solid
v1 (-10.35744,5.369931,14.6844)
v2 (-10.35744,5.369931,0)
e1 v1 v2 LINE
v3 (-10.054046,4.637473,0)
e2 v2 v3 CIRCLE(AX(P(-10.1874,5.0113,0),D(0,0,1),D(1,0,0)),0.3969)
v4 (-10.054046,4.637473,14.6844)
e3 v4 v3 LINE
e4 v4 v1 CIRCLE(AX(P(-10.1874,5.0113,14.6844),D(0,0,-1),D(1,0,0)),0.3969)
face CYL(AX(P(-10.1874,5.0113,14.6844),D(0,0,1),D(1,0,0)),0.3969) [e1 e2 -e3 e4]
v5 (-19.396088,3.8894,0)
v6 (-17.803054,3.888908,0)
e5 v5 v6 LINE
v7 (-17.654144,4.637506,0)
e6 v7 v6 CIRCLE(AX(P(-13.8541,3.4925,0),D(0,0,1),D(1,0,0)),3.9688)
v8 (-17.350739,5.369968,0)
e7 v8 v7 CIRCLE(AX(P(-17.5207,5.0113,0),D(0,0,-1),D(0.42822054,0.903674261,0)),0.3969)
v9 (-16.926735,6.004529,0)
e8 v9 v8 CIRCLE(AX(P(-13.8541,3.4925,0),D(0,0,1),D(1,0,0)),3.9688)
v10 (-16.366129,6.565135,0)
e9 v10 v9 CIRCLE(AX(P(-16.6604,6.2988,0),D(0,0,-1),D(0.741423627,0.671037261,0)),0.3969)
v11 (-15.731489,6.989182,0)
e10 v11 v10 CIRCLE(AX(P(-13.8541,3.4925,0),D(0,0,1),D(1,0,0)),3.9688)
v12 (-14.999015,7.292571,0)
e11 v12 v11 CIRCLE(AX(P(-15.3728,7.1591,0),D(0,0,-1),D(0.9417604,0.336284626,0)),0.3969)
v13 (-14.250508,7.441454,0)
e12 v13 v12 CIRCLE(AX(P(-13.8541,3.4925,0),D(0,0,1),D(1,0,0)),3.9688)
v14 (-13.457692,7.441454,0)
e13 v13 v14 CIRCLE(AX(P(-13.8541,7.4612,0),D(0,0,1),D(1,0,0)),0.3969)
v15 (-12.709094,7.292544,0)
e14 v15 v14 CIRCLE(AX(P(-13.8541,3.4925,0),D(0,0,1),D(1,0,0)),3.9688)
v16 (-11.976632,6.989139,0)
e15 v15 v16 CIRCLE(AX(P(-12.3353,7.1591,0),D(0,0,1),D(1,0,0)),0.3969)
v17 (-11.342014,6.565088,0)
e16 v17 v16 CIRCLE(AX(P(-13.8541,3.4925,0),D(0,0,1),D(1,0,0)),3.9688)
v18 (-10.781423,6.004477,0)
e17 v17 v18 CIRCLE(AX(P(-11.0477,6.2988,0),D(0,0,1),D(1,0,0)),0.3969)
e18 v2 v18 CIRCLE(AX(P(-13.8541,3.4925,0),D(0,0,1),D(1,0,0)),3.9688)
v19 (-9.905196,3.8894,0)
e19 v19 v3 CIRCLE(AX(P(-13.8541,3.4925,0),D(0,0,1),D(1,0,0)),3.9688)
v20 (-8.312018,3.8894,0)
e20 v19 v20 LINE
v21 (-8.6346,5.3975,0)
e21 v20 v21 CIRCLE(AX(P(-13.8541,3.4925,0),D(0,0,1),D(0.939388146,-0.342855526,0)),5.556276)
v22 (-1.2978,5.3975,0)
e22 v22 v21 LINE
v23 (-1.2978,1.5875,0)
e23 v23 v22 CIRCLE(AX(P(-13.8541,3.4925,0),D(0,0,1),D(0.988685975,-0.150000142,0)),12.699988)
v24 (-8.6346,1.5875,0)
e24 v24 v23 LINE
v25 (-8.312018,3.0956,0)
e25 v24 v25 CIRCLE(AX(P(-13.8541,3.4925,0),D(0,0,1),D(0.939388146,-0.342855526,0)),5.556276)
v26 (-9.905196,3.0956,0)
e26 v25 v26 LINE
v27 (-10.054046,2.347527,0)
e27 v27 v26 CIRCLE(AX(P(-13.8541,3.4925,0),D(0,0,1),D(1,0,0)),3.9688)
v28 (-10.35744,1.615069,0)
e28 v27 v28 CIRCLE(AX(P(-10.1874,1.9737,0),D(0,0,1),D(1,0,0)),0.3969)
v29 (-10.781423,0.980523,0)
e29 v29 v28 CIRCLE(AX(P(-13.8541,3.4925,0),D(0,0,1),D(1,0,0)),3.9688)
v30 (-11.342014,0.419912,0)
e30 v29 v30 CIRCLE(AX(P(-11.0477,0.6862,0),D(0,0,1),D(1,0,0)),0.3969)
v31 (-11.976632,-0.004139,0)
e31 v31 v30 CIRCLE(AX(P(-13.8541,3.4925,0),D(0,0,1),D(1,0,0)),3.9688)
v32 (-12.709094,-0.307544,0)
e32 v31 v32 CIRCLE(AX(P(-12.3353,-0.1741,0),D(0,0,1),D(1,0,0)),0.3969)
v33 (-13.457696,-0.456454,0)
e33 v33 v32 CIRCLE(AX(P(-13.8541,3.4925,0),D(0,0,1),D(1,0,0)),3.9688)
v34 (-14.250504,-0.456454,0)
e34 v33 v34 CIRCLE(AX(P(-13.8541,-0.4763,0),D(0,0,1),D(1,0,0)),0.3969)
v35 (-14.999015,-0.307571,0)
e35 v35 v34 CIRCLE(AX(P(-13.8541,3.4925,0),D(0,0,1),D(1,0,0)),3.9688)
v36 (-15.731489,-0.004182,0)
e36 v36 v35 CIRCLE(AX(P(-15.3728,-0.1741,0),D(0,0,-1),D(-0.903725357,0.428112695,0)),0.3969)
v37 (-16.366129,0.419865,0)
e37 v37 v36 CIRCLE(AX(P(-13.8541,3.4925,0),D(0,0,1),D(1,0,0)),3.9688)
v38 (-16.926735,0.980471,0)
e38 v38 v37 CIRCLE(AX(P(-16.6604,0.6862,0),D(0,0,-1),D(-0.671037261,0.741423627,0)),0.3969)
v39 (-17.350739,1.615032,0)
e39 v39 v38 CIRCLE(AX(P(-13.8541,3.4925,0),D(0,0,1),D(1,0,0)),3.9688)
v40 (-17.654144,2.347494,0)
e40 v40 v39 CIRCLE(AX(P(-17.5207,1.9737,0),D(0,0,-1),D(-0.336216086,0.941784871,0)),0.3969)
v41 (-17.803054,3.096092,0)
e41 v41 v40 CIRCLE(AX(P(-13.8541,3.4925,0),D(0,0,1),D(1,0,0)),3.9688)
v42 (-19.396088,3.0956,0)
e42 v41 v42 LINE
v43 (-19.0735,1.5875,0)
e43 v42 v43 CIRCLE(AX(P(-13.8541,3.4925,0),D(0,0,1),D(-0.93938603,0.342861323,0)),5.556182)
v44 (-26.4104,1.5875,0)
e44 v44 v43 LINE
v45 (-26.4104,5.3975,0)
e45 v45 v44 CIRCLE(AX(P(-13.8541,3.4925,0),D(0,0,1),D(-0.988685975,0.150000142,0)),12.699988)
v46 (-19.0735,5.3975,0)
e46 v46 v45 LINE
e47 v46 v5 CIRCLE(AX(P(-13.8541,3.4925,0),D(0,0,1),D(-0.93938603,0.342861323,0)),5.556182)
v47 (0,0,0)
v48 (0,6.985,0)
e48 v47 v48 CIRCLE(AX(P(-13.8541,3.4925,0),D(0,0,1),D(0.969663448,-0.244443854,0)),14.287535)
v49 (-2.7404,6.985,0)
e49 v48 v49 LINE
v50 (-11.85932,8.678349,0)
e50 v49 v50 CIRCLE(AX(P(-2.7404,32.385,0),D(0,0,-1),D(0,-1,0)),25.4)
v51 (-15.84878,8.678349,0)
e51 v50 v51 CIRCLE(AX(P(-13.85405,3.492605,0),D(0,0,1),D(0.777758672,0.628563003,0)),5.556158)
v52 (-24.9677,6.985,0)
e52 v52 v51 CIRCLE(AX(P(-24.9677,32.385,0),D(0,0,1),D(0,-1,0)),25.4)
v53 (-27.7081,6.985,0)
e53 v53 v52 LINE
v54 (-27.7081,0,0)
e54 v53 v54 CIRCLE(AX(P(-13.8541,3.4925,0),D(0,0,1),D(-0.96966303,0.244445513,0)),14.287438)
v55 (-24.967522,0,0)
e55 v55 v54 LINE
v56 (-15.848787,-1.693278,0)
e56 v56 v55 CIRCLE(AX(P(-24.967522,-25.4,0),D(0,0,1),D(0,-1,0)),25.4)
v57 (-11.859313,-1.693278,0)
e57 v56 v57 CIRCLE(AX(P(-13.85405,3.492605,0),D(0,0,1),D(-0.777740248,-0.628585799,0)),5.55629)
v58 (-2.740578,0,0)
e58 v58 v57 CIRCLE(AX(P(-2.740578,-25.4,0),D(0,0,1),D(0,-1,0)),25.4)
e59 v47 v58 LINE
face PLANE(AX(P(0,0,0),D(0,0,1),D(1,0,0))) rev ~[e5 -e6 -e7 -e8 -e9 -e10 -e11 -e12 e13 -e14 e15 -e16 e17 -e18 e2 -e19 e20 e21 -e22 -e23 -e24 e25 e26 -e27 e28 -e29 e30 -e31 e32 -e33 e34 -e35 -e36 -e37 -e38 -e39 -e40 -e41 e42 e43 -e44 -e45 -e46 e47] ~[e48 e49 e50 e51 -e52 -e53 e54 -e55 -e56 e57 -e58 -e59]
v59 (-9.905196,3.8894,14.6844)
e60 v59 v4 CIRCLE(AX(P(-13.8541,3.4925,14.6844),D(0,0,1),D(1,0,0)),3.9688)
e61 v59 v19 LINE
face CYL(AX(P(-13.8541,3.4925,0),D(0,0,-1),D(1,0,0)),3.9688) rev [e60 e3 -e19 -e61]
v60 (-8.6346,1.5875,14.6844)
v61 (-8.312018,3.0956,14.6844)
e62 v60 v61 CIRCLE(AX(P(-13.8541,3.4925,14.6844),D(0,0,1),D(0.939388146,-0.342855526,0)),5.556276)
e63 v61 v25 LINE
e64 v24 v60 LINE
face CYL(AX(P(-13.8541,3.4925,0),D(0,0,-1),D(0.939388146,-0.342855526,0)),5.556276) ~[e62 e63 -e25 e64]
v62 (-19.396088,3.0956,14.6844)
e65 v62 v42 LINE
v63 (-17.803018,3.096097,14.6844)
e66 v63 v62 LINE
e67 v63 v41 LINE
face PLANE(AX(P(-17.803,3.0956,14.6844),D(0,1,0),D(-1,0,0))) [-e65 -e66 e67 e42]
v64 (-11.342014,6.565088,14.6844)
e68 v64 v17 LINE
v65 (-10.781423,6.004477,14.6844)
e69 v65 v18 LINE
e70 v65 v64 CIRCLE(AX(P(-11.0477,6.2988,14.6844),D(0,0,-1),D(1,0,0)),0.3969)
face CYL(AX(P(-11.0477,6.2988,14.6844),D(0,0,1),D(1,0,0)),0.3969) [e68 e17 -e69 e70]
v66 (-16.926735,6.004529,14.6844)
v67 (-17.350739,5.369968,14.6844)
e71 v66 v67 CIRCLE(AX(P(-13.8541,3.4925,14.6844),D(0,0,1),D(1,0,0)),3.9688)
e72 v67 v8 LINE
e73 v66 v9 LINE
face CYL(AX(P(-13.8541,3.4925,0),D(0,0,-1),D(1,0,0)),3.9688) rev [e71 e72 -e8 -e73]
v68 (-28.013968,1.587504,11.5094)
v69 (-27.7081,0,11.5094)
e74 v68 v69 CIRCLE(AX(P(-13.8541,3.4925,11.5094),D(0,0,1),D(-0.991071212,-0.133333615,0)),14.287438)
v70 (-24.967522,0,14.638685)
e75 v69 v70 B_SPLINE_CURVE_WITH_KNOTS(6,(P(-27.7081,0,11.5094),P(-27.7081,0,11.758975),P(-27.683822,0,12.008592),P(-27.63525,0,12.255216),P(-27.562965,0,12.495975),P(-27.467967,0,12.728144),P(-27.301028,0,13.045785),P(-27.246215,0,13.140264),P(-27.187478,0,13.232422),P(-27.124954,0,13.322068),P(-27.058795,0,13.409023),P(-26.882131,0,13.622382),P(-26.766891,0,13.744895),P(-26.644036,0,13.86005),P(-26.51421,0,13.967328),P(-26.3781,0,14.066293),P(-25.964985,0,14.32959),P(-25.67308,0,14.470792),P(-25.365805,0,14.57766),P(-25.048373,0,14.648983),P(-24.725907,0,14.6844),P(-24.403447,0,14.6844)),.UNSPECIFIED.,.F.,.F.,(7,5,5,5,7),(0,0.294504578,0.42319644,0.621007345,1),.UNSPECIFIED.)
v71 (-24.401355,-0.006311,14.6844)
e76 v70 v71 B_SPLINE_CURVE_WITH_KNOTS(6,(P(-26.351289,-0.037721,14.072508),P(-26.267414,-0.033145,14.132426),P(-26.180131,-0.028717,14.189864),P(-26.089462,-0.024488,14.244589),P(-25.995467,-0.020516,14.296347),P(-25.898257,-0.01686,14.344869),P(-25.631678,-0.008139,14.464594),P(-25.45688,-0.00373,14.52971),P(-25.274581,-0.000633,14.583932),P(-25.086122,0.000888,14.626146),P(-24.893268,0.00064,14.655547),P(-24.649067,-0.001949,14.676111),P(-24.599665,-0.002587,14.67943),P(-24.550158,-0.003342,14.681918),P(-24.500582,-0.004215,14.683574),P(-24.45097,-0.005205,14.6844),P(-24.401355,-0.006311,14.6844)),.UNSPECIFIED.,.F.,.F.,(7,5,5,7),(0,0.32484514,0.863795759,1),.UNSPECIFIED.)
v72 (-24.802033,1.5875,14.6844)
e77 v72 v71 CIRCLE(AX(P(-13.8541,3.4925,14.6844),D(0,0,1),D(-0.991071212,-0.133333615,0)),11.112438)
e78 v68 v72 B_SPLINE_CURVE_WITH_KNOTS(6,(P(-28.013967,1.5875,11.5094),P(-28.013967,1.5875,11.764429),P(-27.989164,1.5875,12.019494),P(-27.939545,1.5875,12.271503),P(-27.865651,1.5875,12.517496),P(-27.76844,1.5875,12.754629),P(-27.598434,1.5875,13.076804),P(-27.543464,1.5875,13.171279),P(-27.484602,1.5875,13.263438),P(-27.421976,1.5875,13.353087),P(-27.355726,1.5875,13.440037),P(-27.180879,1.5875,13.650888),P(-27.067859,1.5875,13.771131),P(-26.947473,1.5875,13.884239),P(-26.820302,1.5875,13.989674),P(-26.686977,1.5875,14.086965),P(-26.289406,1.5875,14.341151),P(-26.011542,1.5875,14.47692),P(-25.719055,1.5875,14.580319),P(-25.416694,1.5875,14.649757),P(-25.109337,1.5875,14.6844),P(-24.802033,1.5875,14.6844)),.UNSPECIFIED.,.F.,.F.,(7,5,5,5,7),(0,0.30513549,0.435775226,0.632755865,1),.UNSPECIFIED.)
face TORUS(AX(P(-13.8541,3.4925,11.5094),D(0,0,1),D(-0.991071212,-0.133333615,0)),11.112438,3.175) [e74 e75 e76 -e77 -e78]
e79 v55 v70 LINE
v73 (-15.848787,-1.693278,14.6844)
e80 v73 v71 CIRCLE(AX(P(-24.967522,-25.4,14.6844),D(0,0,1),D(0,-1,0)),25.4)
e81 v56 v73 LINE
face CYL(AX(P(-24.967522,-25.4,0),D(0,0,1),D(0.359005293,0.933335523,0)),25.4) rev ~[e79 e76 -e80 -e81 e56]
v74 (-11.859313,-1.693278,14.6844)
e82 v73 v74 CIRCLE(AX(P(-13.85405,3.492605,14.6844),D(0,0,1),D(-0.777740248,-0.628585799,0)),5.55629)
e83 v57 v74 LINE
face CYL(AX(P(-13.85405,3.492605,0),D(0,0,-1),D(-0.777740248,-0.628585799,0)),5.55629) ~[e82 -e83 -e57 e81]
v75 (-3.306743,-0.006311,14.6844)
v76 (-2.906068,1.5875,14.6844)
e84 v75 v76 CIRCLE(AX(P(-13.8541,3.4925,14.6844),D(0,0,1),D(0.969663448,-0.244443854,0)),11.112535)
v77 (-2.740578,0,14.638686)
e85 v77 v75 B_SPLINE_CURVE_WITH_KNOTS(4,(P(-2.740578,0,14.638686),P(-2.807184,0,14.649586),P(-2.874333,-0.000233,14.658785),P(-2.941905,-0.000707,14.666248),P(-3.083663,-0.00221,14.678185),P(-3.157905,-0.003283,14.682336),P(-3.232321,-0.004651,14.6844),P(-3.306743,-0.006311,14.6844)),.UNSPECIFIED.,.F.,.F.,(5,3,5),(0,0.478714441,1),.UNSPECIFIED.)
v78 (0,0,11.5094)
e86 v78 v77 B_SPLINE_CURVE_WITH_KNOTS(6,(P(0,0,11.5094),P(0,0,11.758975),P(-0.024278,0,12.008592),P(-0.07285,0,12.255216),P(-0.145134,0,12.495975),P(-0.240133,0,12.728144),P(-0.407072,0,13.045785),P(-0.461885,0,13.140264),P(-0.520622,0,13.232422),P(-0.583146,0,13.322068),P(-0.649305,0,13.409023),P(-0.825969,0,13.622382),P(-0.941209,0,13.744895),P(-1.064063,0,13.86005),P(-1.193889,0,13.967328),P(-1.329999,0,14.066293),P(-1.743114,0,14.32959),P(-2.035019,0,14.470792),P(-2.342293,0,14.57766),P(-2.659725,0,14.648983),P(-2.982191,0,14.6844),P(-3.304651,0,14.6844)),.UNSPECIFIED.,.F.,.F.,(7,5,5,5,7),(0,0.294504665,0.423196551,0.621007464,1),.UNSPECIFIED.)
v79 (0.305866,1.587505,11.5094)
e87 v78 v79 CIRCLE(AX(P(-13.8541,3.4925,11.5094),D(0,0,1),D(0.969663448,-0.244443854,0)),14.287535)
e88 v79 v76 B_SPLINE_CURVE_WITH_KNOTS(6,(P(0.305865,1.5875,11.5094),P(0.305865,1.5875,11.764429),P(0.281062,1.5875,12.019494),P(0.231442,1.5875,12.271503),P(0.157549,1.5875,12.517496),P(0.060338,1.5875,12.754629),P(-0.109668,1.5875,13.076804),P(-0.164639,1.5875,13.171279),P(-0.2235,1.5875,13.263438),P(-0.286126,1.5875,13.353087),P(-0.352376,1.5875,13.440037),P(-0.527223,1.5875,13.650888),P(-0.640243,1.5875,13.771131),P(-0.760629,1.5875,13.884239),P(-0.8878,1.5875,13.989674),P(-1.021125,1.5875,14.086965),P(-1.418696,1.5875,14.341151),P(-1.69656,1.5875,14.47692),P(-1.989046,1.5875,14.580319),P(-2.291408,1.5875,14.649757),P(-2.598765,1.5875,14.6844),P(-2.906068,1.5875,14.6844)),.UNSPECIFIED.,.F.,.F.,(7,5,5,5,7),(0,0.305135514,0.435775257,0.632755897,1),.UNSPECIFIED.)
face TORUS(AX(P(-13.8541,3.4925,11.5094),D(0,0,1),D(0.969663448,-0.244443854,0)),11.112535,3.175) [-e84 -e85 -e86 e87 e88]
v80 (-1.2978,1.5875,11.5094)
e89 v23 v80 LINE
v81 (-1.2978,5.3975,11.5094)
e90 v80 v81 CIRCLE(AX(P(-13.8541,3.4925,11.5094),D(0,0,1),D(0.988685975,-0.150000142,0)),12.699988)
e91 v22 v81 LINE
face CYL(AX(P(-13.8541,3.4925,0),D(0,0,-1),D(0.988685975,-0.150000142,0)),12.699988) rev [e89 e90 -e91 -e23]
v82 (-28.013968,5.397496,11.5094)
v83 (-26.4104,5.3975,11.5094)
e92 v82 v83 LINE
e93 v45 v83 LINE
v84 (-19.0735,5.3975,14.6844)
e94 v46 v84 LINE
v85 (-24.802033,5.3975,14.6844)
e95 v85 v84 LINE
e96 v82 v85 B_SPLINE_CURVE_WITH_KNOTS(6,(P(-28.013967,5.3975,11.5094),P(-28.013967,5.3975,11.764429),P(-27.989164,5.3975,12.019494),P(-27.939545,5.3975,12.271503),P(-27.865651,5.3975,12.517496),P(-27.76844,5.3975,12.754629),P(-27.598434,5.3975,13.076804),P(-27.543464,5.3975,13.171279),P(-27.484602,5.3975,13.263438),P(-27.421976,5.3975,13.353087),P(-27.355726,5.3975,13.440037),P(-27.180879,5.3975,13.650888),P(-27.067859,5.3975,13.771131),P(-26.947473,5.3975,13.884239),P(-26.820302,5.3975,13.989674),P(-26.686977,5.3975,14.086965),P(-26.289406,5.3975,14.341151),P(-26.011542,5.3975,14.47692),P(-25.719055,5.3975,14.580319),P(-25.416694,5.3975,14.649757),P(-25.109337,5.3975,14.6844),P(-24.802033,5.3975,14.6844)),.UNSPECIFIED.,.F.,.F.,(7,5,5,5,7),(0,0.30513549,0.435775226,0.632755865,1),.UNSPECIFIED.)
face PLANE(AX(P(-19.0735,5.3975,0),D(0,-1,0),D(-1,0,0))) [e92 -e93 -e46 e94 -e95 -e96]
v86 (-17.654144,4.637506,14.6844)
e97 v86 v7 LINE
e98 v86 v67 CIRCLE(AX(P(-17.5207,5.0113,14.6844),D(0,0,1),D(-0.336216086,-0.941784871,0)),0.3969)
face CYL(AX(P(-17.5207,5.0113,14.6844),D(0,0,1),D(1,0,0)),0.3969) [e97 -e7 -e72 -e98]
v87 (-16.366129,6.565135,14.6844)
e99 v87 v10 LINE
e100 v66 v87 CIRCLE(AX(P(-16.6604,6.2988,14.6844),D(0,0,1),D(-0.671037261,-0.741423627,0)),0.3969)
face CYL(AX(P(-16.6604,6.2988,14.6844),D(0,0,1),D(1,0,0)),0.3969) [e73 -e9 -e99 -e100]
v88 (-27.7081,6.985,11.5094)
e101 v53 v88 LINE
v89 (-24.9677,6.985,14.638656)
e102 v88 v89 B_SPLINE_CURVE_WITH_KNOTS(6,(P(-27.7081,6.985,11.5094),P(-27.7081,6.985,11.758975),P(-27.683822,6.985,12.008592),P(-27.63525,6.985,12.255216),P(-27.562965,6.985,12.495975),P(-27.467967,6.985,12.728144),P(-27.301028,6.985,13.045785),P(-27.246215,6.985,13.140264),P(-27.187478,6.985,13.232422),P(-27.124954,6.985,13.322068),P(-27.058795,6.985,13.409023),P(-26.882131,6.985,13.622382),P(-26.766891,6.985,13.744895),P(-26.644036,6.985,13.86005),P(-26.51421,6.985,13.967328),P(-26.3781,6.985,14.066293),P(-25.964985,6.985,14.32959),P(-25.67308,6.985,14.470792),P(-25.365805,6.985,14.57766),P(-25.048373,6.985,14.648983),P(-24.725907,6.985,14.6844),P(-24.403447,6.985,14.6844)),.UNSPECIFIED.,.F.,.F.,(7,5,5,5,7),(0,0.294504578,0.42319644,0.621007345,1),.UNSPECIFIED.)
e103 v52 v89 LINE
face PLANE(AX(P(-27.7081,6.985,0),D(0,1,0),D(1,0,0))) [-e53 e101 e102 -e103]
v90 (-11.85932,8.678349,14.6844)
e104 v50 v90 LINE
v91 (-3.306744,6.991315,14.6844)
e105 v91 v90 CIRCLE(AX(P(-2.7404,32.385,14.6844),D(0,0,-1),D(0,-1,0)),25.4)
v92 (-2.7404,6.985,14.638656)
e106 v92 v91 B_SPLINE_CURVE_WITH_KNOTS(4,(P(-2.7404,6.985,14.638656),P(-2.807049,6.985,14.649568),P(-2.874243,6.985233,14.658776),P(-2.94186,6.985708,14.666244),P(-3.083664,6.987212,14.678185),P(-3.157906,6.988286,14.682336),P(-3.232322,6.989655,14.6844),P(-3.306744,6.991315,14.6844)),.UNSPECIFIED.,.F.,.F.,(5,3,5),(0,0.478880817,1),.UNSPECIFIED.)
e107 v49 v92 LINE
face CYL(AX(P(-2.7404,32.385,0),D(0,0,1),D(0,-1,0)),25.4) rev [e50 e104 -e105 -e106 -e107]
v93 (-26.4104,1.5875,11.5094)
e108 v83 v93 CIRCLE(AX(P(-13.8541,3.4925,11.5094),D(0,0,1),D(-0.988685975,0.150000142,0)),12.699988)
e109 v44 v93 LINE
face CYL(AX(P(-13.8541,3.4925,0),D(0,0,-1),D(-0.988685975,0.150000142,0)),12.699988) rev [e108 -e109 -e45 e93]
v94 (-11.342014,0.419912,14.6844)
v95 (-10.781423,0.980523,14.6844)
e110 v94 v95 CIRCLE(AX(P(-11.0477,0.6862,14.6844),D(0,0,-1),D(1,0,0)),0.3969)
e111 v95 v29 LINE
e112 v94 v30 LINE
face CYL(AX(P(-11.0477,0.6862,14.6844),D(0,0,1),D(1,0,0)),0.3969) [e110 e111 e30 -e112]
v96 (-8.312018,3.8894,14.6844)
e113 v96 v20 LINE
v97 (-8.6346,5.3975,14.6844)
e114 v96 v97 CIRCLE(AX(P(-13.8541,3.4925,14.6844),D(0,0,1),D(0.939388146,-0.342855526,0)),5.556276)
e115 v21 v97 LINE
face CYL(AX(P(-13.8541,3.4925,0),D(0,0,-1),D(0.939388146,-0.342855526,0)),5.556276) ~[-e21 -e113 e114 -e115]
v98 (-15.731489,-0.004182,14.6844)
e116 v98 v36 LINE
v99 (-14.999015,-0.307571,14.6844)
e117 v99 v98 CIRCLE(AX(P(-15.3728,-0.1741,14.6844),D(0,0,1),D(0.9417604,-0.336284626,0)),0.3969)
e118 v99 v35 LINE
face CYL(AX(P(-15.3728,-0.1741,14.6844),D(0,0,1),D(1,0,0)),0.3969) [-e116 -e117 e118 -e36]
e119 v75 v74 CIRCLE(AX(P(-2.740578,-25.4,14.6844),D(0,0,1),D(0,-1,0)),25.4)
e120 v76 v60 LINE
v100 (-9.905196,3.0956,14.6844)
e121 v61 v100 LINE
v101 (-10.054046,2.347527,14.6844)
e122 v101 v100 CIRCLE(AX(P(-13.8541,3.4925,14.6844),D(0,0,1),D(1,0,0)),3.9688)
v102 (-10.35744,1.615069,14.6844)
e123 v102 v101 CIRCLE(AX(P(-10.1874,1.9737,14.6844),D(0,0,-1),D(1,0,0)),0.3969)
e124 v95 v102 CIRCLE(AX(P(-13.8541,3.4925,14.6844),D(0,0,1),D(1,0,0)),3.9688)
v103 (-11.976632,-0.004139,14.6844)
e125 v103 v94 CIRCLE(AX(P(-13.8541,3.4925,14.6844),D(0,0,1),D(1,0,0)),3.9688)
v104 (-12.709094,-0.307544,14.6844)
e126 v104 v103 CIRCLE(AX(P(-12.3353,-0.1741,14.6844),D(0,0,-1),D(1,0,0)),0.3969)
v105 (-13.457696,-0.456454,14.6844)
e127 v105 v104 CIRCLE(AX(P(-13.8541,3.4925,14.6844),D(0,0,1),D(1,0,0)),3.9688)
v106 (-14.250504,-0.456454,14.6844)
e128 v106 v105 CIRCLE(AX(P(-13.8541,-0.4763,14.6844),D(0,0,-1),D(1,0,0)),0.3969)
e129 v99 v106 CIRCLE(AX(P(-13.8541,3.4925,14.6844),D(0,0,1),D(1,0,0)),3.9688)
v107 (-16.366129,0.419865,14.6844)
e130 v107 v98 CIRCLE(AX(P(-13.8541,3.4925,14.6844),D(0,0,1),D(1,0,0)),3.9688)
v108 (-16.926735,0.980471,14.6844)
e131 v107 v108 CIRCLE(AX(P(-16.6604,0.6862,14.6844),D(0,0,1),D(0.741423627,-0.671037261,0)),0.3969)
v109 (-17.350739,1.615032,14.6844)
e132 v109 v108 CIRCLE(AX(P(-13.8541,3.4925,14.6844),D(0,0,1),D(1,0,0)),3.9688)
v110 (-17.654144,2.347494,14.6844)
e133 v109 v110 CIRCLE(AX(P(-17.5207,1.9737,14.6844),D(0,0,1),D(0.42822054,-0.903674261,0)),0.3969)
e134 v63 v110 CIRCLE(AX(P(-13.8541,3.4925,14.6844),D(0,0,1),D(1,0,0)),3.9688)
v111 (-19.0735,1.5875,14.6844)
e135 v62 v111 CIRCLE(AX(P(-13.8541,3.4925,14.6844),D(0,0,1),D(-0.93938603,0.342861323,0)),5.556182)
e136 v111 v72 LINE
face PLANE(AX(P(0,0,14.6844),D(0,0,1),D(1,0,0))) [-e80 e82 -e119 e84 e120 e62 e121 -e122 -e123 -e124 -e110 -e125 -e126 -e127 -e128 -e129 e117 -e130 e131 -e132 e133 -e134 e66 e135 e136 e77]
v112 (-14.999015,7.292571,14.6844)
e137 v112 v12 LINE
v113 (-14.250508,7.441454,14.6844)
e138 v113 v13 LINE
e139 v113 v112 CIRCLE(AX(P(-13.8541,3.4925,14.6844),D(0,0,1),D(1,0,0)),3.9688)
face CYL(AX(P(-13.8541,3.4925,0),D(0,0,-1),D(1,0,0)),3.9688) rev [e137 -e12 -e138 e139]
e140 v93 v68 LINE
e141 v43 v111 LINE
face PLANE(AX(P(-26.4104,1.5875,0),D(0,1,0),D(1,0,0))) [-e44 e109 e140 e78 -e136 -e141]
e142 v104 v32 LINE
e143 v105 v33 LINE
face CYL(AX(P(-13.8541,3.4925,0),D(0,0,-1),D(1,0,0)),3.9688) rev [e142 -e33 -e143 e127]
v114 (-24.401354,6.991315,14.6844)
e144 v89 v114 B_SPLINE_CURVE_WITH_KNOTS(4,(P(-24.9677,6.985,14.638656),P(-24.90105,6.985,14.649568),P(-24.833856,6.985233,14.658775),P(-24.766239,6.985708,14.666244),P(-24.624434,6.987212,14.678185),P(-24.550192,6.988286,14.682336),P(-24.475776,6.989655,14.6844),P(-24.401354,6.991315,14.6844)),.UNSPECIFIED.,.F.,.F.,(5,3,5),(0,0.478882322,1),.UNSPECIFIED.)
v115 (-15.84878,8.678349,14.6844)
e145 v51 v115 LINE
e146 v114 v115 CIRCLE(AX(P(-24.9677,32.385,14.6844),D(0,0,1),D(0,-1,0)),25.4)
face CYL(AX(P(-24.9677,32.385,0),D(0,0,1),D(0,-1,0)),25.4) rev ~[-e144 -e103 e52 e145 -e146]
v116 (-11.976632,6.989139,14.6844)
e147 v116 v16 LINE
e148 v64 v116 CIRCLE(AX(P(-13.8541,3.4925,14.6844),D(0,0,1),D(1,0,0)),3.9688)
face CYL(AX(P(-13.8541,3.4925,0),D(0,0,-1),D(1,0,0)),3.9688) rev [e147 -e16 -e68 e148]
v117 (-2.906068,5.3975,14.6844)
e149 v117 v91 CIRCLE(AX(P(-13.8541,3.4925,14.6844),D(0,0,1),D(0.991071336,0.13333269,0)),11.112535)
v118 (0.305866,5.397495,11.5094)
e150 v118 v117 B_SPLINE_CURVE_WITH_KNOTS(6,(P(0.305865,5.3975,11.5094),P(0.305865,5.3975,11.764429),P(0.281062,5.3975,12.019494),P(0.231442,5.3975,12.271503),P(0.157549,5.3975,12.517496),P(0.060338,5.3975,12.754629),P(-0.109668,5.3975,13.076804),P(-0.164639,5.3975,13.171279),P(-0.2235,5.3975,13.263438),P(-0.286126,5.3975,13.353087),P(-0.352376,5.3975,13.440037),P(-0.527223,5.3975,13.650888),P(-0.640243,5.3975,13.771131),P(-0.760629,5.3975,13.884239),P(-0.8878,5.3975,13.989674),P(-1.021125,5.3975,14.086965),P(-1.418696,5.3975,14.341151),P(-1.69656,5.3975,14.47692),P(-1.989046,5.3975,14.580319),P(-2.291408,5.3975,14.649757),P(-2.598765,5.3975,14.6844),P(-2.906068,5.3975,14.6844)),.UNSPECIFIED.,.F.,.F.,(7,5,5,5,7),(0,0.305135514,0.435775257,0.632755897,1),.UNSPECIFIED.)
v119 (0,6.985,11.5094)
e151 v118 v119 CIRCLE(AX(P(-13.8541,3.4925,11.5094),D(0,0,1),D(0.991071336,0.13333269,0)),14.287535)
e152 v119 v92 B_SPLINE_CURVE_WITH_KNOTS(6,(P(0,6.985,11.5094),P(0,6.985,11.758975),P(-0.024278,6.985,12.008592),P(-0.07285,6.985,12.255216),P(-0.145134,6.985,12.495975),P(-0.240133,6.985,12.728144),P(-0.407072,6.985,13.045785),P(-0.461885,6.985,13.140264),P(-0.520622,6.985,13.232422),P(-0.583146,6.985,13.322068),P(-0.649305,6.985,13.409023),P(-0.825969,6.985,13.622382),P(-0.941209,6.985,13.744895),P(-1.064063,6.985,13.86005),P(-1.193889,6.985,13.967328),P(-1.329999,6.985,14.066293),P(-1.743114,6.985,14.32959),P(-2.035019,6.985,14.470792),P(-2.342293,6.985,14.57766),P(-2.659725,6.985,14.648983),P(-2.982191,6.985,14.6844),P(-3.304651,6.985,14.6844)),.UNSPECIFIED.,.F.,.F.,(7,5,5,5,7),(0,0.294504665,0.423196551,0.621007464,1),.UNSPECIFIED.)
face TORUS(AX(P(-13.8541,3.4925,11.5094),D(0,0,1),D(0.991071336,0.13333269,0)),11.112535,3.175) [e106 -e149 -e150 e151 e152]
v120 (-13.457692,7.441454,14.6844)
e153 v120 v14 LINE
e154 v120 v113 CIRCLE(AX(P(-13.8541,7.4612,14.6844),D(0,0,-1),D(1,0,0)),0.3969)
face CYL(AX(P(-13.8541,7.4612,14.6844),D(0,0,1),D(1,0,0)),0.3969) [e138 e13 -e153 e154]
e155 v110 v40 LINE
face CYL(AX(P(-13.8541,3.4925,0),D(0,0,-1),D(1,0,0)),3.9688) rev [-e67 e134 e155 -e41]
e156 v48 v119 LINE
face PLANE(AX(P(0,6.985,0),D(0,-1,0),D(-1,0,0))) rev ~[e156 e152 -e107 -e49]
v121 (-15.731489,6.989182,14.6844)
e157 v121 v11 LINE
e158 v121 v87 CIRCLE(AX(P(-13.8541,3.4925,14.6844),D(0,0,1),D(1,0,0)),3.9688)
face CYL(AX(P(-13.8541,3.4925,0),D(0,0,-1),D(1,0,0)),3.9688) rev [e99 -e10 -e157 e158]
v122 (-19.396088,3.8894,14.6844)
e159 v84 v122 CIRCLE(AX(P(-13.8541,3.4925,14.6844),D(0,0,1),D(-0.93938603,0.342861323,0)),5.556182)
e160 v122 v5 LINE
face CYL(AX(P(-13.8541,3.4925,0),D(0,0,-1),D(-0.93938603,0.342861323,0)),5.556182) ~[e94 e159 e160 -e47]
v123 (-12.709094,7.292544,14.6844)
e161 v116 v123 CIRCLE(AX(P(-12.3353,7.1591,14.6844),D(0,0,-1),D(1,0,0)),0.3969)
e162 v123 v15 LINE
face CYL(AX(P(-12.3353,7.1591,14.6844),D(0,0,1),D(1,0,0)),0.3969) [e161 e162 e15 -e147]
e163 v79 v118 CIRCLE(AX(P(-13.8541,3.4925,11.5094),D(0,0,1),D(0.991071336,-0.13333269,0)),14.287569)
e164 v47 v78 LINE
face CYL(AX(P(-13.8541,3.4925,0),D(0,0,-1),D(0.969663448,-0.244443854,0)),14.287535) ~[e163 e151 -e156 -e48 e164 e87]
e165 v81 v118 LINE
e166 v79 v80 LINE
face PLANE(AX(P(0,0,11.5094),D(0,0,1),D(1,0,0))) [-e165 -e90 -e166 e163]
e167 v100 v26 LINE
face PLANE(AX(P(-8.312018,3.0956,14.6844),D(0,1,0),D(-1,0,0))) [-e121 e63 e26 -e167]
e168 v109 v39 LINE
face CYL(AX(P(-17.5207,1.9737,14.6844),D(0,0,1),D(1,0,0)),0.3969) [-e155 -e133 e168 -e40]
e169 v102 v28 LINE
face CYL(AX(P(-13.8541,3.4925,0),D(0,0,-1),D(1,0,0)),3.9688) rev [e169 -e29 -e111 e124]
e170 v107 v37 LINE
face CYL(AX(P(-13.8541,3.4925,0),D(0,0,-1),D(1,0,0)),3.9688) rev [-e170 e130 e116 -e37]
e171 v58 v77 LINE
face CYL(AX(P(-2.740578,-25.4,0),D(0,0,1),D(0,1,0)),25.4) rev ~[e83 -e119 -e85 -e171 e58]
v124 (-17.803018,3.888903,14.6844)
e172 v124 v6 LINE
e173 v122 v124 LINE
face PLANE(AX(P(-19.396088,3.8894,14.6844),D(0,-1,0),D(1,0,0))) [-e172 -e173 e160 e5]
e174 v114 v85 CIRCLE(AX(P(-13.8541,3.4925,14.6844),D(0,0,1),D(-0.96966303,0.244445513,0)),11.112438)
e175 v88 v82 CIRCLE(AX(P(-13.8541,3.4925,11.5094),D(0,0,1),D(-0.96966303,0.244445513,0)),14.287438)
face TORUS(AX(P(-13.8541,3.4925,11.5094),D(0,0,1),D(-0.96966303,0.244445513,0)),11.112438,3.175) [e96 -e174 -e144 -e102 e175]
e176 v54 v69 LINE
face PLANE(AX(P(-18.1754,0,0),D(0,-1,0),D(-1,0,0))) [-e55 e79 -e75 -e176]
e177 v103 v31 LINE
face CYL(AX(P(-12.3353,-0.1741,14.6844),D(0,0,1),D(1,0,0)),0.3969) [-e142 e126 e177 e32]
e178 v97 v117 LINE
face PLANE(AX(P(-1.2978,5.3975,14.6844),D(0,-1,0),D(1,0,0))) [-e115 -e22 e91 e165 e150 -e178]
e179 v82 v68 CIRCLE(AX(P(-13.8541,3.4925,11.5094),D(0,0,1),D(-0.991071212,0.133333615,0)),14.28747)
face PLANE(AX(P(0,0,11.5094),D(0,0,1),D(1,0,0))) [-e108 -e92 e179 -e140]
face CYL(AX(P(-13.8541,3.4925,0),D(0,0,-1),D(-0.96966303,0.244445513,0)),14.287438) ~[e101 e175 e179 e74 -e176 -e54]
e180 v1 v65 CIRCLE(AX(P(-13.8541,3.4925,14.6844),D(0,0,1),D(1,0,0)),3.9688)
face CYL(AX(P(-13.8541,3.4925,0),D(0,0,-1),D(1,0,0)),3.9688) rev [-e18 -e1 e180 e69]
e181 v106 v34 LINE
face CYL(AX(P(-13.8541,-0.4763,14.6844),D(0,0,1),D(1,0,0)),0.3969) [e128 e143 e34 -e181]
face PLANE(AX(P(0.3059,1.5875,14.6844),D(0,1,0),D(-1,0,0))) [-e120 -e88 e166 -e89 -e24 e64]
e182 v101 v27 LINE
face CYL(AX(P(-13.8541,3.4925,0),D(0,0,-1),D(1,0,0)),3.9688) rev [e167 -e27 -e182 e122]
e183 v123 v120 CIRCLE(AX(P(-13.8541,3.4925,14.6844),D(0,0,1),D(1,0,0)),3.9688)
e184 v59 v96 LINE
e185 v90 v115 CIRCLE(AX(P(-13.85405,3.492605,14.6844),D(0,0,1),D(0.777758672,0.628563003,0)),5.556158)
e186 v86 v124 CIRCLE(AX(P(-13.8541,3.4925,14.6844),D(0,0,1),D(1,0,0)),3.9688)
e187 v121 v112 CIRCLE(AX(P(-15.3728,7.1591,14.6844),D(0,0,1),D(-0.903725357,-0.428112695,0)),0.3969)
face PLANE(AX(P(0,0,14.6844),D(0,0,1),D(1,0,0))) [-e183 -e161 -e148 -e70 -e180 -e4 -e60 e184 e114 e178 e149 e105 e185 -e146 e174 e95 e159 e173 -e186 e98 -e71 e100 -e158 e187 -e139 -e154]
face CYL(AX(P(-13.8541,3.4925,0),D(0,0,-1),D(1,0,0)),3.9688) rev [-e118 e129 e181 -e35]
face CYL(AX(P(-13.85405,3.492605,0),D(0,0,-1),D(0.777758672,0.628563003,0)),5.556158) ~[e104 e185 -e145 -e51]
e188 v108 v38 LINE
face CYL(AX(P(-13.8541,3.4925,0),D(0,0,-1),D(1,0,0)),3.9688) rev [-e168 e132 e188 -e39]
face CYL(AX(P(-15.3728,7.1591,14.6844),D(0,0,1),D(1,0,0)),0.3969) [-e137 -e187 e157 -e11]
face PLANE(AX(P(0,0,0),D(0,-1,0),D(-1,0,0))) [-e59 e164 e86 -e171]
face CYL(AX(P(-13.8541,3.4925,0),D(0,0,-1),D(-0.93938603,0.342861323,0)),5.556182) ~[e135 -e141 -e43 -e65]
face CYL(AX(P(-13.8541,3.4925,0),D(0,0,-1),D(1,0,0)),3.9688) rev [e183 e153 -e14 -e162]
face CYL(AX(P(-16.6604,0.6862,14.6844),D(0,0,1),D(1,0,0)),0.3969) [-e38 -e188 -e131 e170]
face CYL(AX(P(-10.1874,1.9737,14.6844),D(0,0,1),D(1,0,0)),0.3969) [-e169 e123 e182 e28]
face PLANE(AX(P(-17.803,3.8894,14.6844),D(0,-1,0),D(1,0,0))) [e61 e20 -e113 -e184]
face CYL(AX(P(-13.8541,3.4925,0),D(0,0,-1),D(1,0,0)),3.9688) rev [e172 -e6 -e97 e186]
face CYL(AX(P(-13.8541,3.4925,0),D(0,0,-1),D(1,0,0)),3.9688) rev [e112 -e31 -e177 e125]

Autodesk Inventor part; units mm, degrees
ref_plane "YZ Plane" through (0, 0, 0) normal (1, 0, 0) x (0, 1, 0)
ref_plane "XZ Plane" through (0, 0, 0) normal (0, 1, 0) x (-1, 0, 0)
ref_plane "XY Plane" through (0, 0, 0) normal (0, 0, 1) x (1, 0, 0)
sketch "Sketch10" plane through (0, 0, 0) normal (0, 0, 1) x (1, 0, 0)
  line L0 (0, 6.985) -> (-9.5327, 6.985)
  line L1 (0, 0) -> (-9.5327, 0)
  line L2 (-18.1754, 0) -> (-27.7081, 0)
  line L3 (-27.7081, 6.985) -> (-18.1754, 6.985)
  arc A0 (-9.5327, 6.985) -> (-18.1754, 6.985) centre (-13.8541, 3.4925) ccw
  arc A1 (-18.1754, 0) -> (-9.5327, 0) centre (-13.8541, 3.4925) ccw
  circle A2 centre (-13.8541, 3.4925) radius 3.9688
  line L4 (-26.4104, 1.5875) -> (-19.0735, 1.5875)
  line L5 (-19.0735, 5.3975) -> (-26.4104, 5.3975)
  line L6 (-8.6346, 1.5875) -> (-1.2978, 1.5875)
  line L7 (-1.2978, 5.3975) -> (-8.6346, 5.3975)
  arc A3 (-19.0735, 5.3975) -> (-19.0735, 1.5875) centre (-13.8541, 3.4925) ccw
  arc A4 (-8.6346, 1.5875) -> (-8.6346, 5.3975) centre (-13.8541, 3.4925) ccw
  arc A5 (-26.4104, 5.3975) -> (-26.4104, 1.5875) centre (-13.8541, 3.4925) ccw
  arc A6 (-27.7081, 6.985) -> (-27.7081, 0) centre (-13.8541, 3.4925) ccw
  arc A7 (-1.2978, 1.5875) -> (-1.2978, 5.3975) centre (-13.8541, 3.4925) ccw
  arc A8 (0, 0) -> (0, 6.985) centre (-13.8541, 3.4925) ccw
  dimension "d59" = 7.9375
  dimension "d152" = 1.5875
  dimension "d153" = 1.5875
  dimension "d158" = 3.81
  dimension "d168" = 12.7
  dimension "d169" = 12.7
  dimension "d170" = 1.5875
  dimension "d172" = 1.5875
extrude "Extrusion33" add sketch "Sketch10" along normal blind 14.6844
sketch "Sketch28" plane through (0, 0, 14.6844) normal (0, 0, 1) x (1, 0, 0)
  circle A0 centre (-13.8541, 3.4925) radius 3.9687 projected
  arc A1 (-26.4104, 5.3975) -> (-26.4104, 1.5875) centre (-13.8541, 3.4925) ccw
  arc A2 (-28.014, 5.3975) -> (-28.014, 1.5875) centre (-13.8541, 3.4925) ccw
  arc A3 (-1.2978, 1.5875) -> (-1.2978, 5.3975) centre (-13.8541, 3.4925) ccw
  arc A4 (0.3059, 1.5875) -> (0.3059, 5.3975) centre (-13.8541, 3.4925) ccw
  line L0 (-28.014, 5.3975) -> (-26.4104, 5.3975)
  line L1 (-26.4104, 1.5875) -> (-28.014, 1.5875)
  line L2 (-1.2978, 5.3975) -> (0.3059, 5.3975)
  line L3 (0.3059, 1.5875) -> (-1.2978, 1.5875)
  line L4 (-26.4104, 5.3975) -> (-19.0735, 5.3975) projected
  line L5 (-19.0735, 1.5875) -> (-26.4104, 1.5875) projected
  arc A5 (-26.4104, 5.3975) -> (-26.4104, 1.5875) centre (-13.8541, 3.4925) ccw projected
  arc A6 (-27.7081, 6.985) -> (-27.7081, 0) centre (-13.8541, 3.4925) ccw projected
  arc A7 (-1.2978, 1.5875) -> (-1.2978, 5.3975) centre (-13.8541, 3.4925) ccw projected
  arc A8 (0, 0) -> (0, 6.985) centre (-13.8541, 3.4925) ccw projected
extrude "Extrusion35" cut sketch "Sketch28" against normal blind 3.175 contours A1 L1 A2 L0 | A3 L2 A4 L3
sketch "Sketch30" plane through (0, 0, 14.6844) normal (0, 0, 1) x (1, 0, 0)
  circle A0 centre (-13.8541, 3.4925) radius 3.9687 projected
  circle A1 centre (-13.8541, 7.4612) radius 0.3969
  circle A2 centre (-15.3728, 7.1591) radius 0.3969
  circle A3 centre (-16.6604, 6.2988) radius 0.3969
  circle A4 centre (-17.5207, 5.0113) radius 0.3969
  circle A5 centre (-17.8228, 3.4925) radius 0.3969
  circle A6 centre (-17.5207, 1.9737) radius 0.3969
  circle A7 centre (-16.6604, 0.6862) radius 0.3969
  circle A8 centre (-15.3728, -0.1741) radius 0.3969
  circle A9 centre (-13.8541, -0.4763) radius 0.3969
  circle A10 centre (-12.3353, -0.1741) radius 0.3969
  circle A11 centre (-11.0477, 0.6862) radius 0.3969
  circle A12 centre (-10.1874, 1.9737) radius 0.3969
  circle A13 centre (-9.8853, 3.4925) radius 0.3969
  circle A14 centre (-10.1874, 5.0113) radius 0.3969
  circle A15 centre (-11.0477, 6.2988) radius 0.3969
  circle A16 centre (-12.3353, 7.1591) radius 0.3969
  point P0 (0, 0)
  dimension "d179" = 0.7937
  dimension "d182" = 360
fillet "Fillet6" radius 25.4 4 edges at (-9.5327, 6.985, 7.3422) (-18.1754, 6.985, 7.3422) (-9.5327, 0, 7.3422) (-18.1754, 0, 7.3422)
fillet "Fillet7" radius 3.175 4 edges at (0.1754, 6.1956, 14.6844) (0.1754, 0.7894, 14.6844) (-27.8835, 6.1956, 14.6844) (-27.8835, 0.7894, 14.6844)
extrude "Extrusion41" add sketch "Sketch30" against normal up to surface (14.6844 mm away) contours A0 A13 | A0 A13 | A14 A0 | A0 A14 | A12 A0 | A0 A12 | A15 A0 | A0 A15 | A11 A0 | A0 A11 | A16 A0 | A0 A16 | A10 A0 | A0 A10 | A1 A0 | A0 A1 | A9 A0 | A0 A9 | A2 A0 | A0 A2 | A8 A0 | A0 A8 | A3 A0 | A0 A3 | A7 A0 | A0 A7 | A4 A0 | A0 A4 | A6 A0 | A0 A6 | A5 A0 | A0 A5
sketch "Sketch33" plane through (0, 0, 14.6844) normal (0, 0, 1) x (1, 0, 0)
  line L0 (-19.4103, 3.8894) -> (-8.2978, 3.8894)
  line L1 (-8.2978, 3.8894) -> (-8.2978, 3.0956)
  line L2 (-8.2978, 3.0956) -> (-19.4103, 3.0956)
  line L3 (-19.4103, 3.0956) -> (-19.4103, 3.8894)
  arc A0 (-17.803, 3.0961) -> (-17.803, 3.8889) centre (-17.8228, 3.4925) ccw projected
  arc A1 (-8.6346, 1.5875) -> (-8.6346, 5.3975) centre (-13.8541, 3.4925) ccw projected
  arc A2 (-19.0735, 5.3975) -> (-19.0735, 1.5875) centre (-13.8541, 3.4925) ccw projected
  point P0 (0, 0)
extrude "Extrusion42" cut sketch "Sketch33" against normal through all
properties part number "extender-bracket"
